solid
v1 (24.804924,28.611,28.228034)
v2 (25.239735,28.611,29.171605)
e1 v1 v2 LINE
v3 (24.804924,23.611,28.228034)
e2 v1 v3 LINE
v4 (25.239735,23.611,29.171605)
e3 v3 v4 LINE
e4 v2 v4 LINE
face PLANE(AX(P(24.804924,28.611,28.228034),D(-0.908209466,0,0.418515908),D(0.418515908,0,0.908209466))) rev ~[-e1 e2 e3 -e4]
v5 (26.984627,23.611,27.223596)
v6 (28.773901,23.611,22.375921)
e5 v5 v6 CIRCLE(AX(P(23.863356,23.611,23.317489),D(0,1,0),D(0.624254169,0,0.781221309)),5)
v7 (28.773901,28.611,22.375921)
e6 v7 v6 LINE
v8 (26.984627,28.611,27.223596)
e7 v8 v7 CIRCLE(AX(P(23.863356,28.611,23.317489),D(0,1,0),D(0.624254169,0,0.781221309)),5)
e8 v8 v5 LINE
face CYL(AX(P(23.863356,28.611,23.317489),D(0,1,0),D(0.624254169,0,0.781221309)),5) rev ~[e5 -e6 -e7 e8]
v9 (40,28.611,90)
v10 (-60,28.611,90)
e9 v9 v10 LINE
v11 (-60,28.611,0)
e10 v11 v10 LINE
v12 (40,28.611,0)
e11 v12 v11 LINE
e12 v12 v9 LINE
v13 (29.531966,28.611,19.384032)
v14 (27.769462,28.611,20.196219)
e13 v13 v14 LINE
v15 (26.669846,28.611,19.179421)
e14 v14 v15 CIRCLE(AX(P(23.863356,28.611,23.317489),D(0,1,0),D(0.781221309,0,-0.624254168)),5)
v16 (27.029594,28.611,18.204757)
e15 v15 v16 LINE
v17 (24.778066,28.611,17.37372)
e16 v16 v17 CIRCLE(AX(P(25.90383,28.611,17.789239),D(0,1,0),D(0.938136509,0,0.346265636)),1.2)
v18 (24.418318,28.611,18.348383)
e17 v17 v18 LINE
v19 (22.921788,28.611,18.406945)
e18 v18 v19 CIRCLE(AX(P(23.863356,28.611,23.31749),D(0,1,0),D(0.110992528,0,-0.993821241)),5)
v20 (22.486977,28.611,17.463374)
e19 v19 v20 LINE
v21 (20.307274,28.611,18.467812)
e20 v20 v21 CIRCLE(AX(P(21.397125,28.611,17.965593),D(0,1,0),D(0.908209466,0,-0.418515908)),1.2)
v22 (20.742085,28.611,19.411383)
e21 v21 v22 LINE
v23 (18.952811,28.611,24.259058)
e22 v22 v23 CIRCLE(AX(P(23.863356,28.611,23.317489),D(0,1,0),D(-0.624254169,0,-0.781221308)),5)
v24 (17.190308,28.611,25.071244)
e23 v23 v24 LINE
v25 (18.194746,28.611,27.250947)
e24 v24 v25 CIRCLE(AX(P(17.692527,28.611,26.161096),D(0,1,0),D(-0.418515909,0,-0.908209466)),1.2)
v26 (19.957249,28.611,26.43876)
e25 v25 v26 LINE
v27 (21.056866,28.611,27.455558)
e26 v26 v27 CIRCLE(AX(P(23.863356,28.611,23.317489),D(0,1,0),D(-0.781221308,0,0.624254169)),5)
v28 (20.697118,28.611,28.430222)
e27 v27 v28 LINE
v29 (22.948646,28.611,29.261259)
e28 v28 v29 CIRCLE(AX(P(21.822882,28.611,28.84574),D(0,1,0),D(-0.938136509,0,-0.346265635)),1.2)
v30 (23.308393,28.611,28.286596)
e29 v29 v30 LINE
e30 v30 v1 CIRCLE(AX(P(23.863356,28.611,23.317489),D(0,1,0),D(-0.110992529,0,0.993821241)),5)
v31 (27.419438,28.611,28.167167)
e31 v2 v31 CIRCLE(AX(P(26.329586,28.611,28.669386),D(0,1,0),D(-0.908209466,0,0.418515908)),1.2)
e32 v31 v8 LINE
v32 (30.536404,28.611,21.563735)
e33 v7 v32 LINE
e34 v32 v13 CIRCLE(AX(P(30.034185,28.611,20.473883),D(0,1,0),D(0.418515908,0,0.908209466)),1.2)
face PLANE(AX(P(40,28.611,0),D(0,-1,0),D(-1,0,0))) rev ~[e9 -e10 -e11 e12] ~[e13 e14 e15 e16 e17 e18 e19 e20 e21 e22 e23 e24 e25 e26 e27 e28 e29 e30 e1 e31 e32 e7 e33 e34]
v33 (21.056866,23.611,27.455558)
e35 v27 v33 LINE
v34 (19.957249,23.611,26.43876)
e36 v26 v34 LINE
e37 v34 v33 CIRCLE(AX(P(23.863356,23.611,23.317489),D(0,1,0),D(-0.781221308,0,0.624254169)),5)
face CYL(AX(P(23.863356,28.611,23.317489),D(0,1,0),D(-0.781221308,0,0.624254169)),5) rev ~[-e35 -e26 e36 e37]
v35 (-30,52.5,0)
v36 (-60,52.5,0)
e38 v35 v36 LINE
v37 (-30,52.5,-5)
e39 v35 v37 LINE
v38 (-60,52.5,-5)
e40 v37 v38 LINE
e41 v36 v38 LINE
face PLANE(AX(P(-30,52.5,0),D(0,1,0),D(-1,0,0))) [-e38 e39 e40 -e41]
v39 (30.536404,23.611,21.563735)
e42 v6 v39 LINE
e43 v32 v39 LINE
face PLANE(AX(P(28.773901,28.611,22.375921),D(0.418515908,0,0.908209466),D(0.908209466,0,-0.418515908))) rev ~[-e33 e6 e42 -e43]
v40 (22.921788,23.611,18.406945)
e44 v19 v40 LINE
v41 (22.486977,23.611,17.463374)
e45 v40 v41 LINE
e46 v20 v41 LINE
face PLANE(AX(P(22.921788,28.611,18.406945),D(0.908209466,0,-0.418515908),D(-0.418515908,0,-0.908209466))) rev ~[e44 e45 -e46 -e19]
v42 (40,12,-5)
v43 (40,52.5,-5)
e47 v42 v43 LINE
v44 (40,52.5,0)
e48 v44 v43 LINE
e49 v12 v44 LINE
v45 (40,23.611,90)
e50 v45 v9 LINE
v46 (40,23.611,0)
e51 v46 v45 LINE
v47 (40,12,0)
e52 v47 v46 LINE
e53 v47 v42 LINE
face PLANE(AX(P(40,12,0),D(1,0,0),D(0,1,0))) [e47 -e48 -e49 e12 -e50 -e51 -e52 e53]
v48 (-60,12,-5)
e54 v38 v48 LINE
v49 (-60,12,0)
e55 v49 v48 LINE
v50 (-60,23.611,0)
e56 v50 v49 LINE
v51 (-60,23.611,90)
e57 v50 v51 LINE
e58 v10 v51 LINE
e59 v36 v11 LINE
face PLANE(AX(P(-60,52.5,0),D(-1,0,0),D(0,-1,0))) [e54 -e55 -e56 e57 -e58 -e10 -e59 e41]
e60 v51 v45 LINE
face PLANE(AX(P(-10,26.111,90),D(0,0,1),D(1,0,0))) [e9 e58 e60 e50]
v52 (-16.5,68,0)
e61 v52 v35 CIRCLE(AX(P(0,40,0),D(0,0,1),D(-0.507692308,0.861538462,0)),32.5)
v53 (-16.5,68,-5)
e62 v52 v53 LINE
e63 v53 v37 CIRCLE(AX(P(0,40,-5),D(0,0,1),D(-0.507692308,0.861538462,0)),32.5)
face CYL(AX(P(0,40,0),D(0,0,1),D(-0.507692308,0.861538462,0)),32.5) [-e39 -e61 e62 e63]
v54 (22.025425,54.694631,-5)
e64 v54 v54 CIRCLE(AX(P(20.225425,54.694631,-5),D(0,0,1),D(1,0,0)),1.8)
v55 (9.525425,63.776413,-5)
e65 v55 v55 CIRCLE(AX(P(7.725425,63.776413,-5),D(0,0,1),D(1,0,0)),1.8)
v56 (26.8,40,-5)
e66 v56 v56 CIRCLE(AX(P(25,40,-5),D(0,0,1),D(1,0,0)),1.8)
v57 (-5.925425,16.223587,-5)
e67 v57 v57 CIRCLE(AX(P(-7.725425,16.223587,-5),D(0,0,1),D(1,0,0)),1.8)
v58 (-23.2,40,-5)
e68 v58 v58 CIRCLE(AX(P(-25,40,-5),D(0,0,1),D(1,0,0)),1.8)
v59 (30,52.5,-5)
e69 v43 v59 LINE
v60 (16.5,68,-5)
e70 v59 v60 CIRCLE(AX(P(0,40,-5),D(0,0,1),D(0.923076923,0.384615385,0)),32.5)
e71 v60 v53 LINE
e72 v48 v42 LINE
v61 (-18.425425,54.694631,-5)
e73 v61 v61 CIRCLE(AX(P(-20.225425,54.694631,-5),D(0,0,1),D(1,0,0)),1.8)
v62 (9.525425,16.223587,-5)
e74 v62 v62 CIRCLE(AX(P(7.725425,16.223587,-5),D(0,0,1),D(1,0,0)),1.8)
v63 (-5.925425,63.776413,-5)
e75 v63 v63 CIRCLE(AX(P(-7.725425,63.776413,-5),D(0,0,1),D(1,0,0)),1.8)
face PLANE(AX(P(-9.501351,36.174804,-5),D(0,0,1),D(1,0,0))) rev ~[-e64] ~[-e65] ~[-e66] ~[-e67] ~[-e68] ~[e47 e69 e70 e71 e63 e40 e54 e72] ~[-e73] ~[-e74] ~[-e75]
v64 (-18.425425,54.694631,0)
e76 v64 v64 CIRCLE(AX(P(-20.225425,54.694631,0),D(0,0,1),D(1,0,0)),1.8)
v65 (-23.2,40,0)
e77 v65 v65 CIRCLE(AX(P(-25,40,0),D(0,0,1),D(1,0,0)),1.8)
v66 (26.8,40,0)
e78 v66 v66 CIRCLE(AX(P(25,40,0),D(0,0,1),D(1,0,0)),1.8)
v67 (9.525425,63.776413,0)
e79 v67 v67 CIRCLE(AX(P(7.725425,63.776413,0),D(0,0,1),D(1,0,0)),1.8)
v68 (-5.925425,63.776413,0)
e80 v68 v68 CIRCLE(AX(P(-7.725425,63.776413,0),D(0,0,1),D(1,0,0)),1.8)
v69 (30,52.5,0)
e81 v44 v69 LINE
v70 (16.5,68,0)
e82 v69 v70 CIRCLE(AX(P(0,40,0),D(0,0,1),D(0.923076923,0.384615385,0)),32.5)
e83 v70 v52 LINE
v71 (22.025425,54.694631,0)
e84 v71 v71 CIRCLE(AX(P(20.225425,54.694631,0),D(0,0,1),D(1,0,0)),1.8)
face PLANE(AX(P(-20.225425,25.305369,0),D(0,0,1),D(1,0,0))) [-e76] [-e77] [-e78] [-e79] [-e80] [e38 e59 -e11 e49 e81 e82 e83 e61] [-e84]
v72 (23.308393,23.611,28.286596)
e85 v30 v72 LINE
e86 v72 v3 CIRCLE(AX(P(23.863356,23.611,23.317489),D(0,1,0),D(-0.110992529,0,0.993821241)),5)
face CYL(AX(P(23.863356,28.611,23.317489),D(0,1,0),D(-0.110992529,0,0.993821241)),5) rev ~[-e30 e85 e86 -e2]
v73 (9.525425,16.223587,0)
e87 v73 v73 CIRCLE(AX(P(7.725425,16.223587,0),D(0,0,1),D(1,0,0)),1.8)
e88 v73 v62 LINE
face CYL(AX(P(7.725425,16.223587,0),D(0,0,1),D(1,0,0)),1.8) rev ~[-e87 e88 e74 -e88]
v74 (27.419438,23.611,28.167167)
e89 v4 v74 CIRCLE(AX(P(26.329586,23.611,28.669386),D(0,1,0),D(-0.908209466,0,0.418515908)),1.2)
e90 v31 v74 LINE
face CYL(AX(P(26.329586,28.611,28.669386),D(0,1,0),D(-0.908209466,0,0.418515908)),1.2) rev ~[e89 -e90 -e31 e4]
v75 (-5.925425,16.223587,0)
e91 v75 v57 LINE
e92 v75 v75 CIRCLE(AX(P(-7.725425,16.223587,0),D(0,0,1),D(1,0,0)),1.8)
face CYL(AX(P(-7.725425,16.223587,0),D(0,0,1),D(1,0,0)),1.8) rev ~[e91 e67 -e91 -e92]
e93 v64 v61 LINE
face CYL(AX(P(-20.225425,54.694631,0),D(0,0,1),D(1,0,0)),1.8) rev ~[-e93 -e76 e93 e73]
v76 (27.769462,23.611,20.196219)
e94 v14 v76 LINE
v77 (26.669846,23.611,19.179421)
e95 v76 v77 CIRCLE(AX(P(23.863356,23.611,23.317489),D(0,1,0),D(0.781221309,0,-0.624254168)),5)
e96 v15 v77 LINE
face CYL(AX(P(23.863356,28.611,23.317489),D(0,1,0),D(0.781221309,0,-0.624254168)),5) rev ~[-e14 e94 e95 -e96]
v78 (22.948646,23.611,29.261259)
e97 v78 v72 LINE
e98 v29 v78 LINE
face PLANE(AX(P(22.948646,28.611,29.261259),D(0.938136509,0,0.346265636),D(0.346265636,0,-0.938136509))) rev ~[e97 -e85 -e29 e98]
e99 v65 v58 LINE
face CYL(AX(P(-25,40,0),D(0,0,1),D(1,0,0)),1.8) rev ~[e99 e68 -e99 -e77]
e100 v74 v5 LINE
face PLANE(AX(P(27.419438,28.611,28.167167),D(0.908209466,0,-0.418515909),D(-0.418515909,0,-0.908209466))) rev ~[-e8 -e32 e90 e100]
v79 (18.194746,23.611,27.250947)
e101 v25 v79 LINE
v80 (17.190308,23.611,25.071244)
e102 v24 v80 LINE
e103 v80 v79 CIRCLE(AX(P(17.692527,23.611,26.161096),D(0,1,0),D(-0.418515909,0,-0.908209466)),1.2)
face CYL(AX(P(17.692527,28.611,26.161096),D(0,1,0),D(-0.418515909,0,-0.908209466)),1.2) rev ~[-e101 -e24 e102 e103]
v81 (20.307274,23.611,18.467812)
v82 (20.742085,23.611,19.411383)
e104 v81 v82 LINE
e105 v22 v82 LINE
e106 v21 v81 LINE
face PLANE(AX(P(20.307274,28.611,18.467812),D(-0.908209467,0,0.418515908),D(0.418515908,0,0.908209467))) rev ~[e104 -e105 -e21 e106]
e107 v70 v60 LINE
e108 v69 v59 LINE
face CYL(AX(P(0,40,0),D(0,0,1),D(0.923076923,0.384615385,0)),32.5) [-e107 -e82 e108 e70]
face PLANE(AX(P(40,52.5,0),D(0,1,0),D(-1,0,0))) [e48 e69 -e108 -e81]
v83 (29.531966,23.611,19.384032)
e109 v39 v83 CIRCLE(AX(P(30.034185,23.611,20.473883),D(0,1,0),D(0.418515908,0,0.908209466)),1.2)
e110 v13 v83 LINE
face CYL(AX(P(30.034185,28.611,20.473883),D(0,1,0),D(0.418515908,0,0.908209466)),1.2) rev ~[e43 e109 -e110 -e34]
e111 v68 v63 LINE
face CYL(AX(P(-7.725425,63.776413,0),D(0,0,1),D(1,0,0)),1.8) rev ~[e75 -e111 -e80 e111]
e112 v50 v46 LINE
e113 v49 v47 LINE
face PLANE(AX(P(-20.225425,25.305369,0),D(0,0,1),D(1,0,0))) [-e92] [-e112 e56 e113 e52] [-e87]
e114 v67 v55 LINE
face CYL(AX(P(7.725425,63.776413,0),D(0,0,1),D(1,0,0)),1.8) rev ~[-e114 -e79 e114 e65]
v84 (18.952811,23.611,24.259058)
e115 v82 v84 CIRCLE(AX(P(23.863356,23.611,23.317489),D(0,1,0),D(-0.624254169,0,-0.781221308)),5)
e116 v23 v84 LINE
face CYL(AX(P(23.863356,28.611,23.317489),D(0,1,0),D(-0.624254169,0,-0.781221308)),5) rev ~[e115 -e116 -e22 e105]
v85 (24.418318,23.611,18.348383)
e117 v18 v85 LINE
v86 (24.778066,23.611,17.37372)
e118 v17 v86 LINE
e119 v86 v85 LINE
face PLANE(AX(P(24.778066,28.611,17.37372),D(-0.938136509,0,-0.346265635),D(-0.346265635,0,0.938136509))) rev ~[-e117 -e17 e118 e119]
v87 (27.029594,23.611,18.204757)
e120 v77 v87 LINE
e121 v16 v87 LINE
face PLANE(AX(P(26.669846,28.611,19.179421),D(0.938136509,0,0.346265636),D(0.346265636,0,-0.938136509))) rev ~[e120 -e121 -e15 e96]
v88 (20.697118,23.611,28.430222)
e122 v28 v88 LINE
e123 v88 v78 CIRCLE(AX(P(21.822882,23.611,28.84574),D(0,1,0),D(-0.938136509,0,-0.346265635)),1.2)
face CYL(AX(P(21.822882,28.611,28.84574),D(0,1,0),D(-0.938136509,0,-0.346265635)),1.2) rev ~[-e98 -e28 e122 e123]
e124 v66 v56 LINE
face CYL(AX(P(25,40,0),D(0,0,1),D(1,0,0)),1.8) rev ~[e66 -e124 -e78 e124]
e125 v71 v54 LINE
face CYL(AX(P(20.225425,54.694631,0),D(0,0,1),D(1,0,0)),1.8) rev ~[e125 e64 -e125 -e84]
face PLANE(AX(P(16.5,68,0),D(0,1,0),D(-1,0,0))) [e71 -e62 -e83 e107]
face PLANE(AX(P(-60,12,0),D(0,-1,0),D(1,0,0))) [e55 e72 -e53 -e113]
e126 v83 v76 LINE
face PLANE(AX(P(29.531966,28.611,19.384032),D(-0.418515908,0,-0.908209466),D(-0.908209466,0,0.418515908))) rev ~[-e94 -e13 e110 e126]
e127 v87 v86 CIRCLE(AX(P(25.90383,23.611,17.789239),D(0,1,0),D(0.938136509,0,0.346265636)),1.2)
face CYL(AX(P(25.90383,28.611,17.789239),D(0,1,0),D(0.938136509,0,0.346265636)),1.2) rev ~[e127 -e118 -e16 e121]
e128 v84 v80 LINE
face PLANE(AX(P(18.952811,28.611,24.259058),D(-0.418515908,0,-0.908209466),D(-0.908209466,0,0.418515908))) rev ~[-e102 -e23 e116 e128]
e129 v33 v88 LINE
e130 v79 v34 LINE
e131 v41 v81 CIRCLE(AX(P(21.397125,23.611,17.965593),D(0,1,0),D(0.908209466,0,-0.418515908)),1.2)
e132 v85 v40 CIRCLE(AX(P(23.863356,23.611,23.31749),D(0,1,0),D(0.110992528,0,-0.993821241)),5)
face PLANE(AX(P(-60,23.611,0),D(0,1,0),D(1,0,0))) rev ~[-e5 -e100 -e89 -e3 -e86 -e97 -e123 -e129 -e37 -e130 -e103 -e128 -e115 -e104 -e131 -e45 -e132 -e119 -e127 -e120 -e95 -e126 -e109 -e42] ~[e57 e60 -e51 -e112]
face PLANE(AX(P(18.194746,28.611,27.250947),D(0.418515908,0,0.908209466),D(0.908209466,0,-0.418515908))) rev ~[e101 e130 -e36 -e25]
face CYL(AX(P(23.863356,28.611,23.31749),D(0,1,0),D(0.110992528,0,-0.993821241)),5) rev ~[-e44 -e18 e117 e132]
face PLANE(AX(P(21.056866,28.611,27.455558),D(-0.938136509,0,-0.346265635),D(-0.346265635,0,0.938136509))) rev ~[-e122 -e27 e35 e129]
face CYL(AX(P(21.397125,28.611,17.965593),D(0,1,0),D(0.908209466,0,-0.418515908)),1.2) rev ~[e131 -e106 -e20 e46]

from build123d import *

# Parameters (mm, degrees)
SKETCH2_R           = 1.8
BOSS_EXTRUDE1_DEPTH = 5
SKETCH3_R           = 1.8
BOSS_EXTRUDE2_DEPTH = 5
BOSS_EXTRUDE3_DEPTH = 90
SKETCH5_R           = 1
CUT_EXTRUDE3_DEPTH  = 90
CUT_EXTRUDE4_DEPTH  = 90


with BuildPart() as part:
    # Sketch2 → Boss-Extrude1 (new body)
    with BuildSketch(Plane.XY):
        with BuildLine():
            ThreePointArc((30, 52.5), (24.507651866, 61.345374206), (16.5, 68))
            Line((16.5, 68), (-16.5, 68))
            ThreePointArc((-16.5, 68), (-24.507651866, 61.345374206), (-30, 52.5))
            Line((-30, 52.5), (-60, 52.5))
            Line((-60, 52.5), (-60, 12))
            Line((-60, 12), (40, 12))
            Line((40, 12), (40, 52.5))
            Line((40, 52.5), (30, 52.5))
        make_face()
        with Locations((-20.225424859, 25.305368693)):
            Circle(SKETCH2_R, mode=Mode.SUBTRACT)
        with Locations((-25, 40)):
            Circle(SKETCH2_R, mode=Mode.SUBTRACT)
        with Locations((-7.725424859, 16.223587093)):
            Circle(SKETCH2_R, mode=Mode.SUBTRACT)
        with Locations((7.725424859, 16.223587093)):
            Circle(SKETCH2_R, mode=Mode.SUBTRACT)
        with Locations((20.225424859, 25.305368693)):
            Circle(SKETCH2_R, mode=Mode.SUBTRACT)
        with Locations((25, 40)):
            Circle(SKETCH2_R, mode=Mode.SUBTRACT)
        with Locations((-20.225424859, 54.694631307)):
            Circle(SKETCH2_R, mode=Mode.SUBTRACT)
        with Locations((-7.725424859, 63.776412907)):
            Circle(SKETCH2_R, mode=Mode.SUBTRACT)
        with Locations((7.725424859, 63.776412907)):
            Circle(SKETCH2_R, mode=Mode.SUBTRACT)
        with Locations((20.225424859, 54.694631307)):
            Circle(SKETCH2_R, mode=Mode.SUBTRACT)
    extrude(amount=-BOSS_EXTRUDE1_DEPTH)

    # Sketch3 → Boss-Extrude2 (add)
    with BuildSketch(Plane.XY):
        with Locations((-20.225424859, 25.305368693)):
            Circle(SKETCH3_R)
        with Locations((20.225424859, 25.305368693)):
            Circle(SKETCH3_R)
    extrude(amount=-BOSS_EXTRUDE2_DEPTH)

    # Sketch4 → Boss-Extrude3 (add)
    with BuildSketch(Plane.XY):
        Polygon((15.062255845, 23.611), (32.664455845, 23.611), (40, 23.611), (40, 28.611), (-60, 28.611), (-60, 23.611), align=None)
    extrude(amount=BOSS_EXTRUDE3_DEPTH)

    # Sketch5 → Cut-Extrude3 (cut)
    with BuildSketch(Plane(origin=(0, 28.611, 0), x_dir=(1, 0, 0), z_dir=(0, 1, 0))):
        with BuildLine():
            ThreePointArc((20.99034902, -19.472254538), (21.854479486, -18.958084045), (22.806767952, -18.635222722))
            Line((22.806767952, -18.635222722), (22.305334768, -17.547076832))
            ThreePointArc((22.305334768, -17.547076832), (22.37390815, -17.751360934), (22.397125301, -17.96559274))
            ThreePointArc((22.397125301, -17.96559274), (21.611357108, -18.942375589), (20.488915835, -18.384108649))
            Line((20.488915835, -18.384108649), (20.99034902, -19.472254538))
        make_face()
        with BuildLine():
            ThreePointArc((24.550824941, -18.56697517), (25.525430896, -18.81443424), (26.42709796, -19.259506441))
            Line((26.42709796, -19.259506441), (26.841966492, -18.135504299))
            ThreePointArc((26.841966492, -18.135504299), (25.557564347, -18.727375172), (24.965693474, -17.442973027))
            Line((24.965693474, -17.442973027), (24.550824941, -18.56697517))
        make_face()
        with BuildLine():
            ThreePointArc((27.70859079, -20.444482658), (28.222761283, -21.308613124), (28.545622606, -22.260901591))
            Line((28.545622606, -22.260901591), (30.452700972, -21.382092612))
            ThreePointArc((30.452700972, -21.382092612), (29.125975597, -20.892399054), (29.615669155, -19.565673679))
            Line((29.615669155, -19.565673679), (27.70859079, -20.444482658))
        make_face()
        with BuildLine():
            ThreePointArc((25.421376922, -29.087902134), (25.91107048, -27.76117676), (27.237795855, -28.250870318))
            Line((27.237795855, -28.250870318), (26.73636267, -27.162724428))
            ThreePointArc((26.73636267, -27.162724428), (25.872232204, -27.676894921), (24.919943737, -27.999756245))
            Line((24.919943737, -27.999756245), (25.421376922, -29.087902134))
        make_face()
        with BuildLine():
            Line((22.761018216, -29.192005939), (23.175886748, -28.068003797))
            ThreePointArc((23.175886748, -28.068003797), (22.201280794, -27.820544727), (21.29961373, -27.375472525))
            Line((21.29961373, -27.375472525), (20.884745198, -28.499474668))
            ThreePointArc((20.884745198, -28.499474668), (21.998755939, -27.861327659), (22.822881707, -28.845740304))
            ThreePointArc((22.822881707, -28.845740304), (22.807294351, -29.021614536), (22.761018216, -29.192005939))
        make_face()
        with BuildLine():
            Line((18.111042534, -27.069305287), (20.0181209, -26.190496308))
            ThreePointArc((20.0181209, -26.190496308), (19.503950407, -25.326365842), (19.181089083, -24.374077376))
            Line((19.181089083, -24.374077376), (17.274010718, -25.252886355))
            ThreePointArc((17.274010718, -25.252886355), (18.231731639, -25.318921282), (18.692526626, -26.161095821))
            ThreePointArc((18.692526626, -26.161095821), (18.534701165, -26.700300834), (18.111042534, -27.069305287))
        make_face()
        with Locations((17.692526626, -26.161095821)):
            Circle(SKETCH5_R)
        with Locations((21.822881707, -28.845740304)):
            Circle(SKETCH5_R)
        with Locations((26.329586388, -28.669386226)):
            Circle(SKETCH5_R)
        with Locations((30.034185063, -20.473883145)):
            Circle(SKETCH5_R)
        with Locations((25.903829983, -17.789238663)):
            Circle(SKETCH5_R)
        with Locations((21.397125301, -17.96559274)):
            Circle(SKETCH5_R)
        with BuildLine():
            Line((22.806767952, -18.635222722), (23.76117853, -20.706361964))
            Line((23.76117853, -20.706361964), (24.550824941, -18.56697517))
            ThreePointArc((24.550824941, -18.56697517), (23.675668329, -18.521160325), (22.806767952, -18.635222722))
        make_face()
        with BuildLine():
            Line((23.068647258, -22.582634982), (23.76117853, -20.706361964))
            Line((23.76117853, -20.706361964), (22.806767952, -18.635222722))
            ThreePointArc((22.806767952, -18.635222722), (21.854479486, -18.958084045), (20.99034902, -19.472254538))
            Line((20.99034902, -19.472254538), (22.53663047, -22.827795925))
            Line((22.53663047, -22.827795925), (23.068647258, -22.582634982))
        make_face()
        with BuildLine():
            Line((19.181089083, -24.374077376), (22.53663047, -22.827795925))
            Line((22.53663047, -22.827795925), (20.99034902, -19.472254538))
            ThreePointArc((20.99034902, -19.472254538), (19.360300602, -21.655414432), (19.181089083, -24.374077376))
        make_face()
        with BuildLine():
            Line((22.089260142, -25.236085731), (22.781791413, -23.359812713))
            Line((22.781791413, -23.359812713), (22.53663047, -22.827795925))
            Line((22.53663047, -22.827795925), (19.181089083, -24.374077376))
            ThreePointArc((19.181089083, -24.374077376), (19.503950407, -25.326365842), (20.0181209, -26.190496308))
            Line((20.0181209, -26.190496308), (22.089260142, -25.236085731))
        make_face()
        with BuildLine():
            ThreePointArc((20.0181209, -26.190496308), (20.604554087, -26.841721471), (21.29961373, -27.375472525))
            Line((21.29961373, -27.375472525), (22.089260142, -25.236085731))
            Line((22.089260142, -25.236085731), (20.0181209, -26.190496308))
        make_face()
        with BuildLine():
            Line((23.175886748, -28.068003797), (23.96553316, -25.928617002))
            Line((23.96553316, -25.928617002), (23.373662287, -24.644214858))
            Line((23.373662287, -24.644214858), (22.089260142, -25.236085731))
            Line((22.089260142, -25.236085731), (21.29961373, -27.375472525))
            ThreePointArc((21.29961373, -27.375472525), (22.201280794, -27.820544727), (23.175886748, -28.068003797))
        make_face()
        with BuildLine():
            ThreePointArc((23.175886748, -28.068003797), (24.05104336, -28.113818642), (24.919943737, -27.999756245))
            Line((24.919943737, -27.999756245), (23.96553316, -25.928617002))
            Line((23.96553316, -25.928617002), (23.175886748, -28.068003797))
        make_face()
        with BuildLine():
            ThreePointArc((24.919943737, -27.999756245), (25.872232204, -27.676894921), (26.73636267, -27.162724428))
            Line((26.73636267, -27.162724428), (25.190081219, -23.807183041))
            Line((25.190081219, -23.807183041), (24.658064431, -24.052343984))
            Line((24.658064431, -24.052343984), (23.96553316, -25.928617002))
            Line((23.96553316, -25.928617002), (24.919943737, -27.999756245))
        make_face()
        with BuildLine():
            Line((25.190081219, -23.807183041), (26.73636267, -27.162724428))
            ThreePointArc((26.73636267, -27.162724428), (28.154651265, -25.468020492), (28.663355845, -23.317489483))
            ThreePointArc((28.663355845, -23.317489483), (28.633831736, -22.785925966), (28.545622606, -22.260901591))
            Line((28.545622606, -22.260901591), (25.190081219, -23.807183041))
        make_face()
        with BuildLine():
            Line((24.944920276, -23.275166254), (25.190081219, -23.807183041))
            Line((25.190081219, -23.807183041), (28.545622606, -22.260901591))
            ThreePointArc((28.545622606, -22.260901591), (28.222761283, -21.308613124), (27.70859079, -20.444482658))
            Line((27.70859079, -20.444482658), (25.637451548, -21.398893235))
            Line((25.637451548, -21.398893235), (24.944920276, -23.275166254))
        make_face()
        with BuildLine():
            Line((26.42709796, -19.259506441), (25.637451548, -21.398893235))
            Line((25.637451548, -21.398893235), (27.70859079, -20.444482658))
            ThreePointArc((27.70859079, -20.444482658), (27.122157603, -19.793257496), (26.42709796, -19.259506441))
        make_face()
        Polygon((24.353049403, -21.990764109), (24.944920276, -23.275166254), (25.637451548, -21.398893235), align=None)
        with BuildLine():
            Line((23.76117853, -20.706361964), (24.353049403, -21.990764109))
            Line((24.353049403, -21.990764109), (25.637451548, -21.398893235))
            Line((25.637451548, -21.398893235), (26.42709796, -19.259506441))
            ThreePointArc((26.42709796, -19.259506441), (25.525430896, -18.81443424), (24.550824941, -18.56697517))
            Line((24.550824941, -18.56697517), (23.76117853, -20.706361964))
        make_face()
        Polygon((23.068647258, -22.582634982), (24.353049403, -21.990764109), (23.76117853, -20.706361964), align=None)
        Polygon((22.781791413, -23.359812713), (23.068647258, -22.582634982), (22.53663047, -22.827795925), align=None)
        Polygon((22.089260142, -25.236085731), (23.373662287, -24.644214858), (22.781791413, -23.359812713), align=None)
        Polygon((23.96553316, -25.928617002), (24.658064431, -24.052343984), (23.373662287, -24.644214858), align=None)
        Polygon((24.658064431, -24.052343984), (25.190081219, -23.807183041), (24.944920276, -23.275166254), align=None)
        Polygon((24.658064431, -24.052343984), (24.944920276, -23.275166254), (24.353049403, -21.990764109), (23.068647258, -22.582634982), (22.781791413, -23.359812713), (23.373662287, -24.644214858), align=None)
    extrude(amount=-CUT_EXTRUDE3_DEPTH, mode=Mode.SUBTRACT)

    # Sketch6 → Cut-Extrude4 (cut)
    with BuildSketch(Plane(origin=(0, 28.611, 0), x_dir=(1, 0, 0), z_dir=(0, 1, 0))):
        with BuildLine():
            ThreePointArc((27.029593793, -18.204757426), (26.319348745, -16.663474852), (24.778066172, -17.3737199))
            Line((24.778066172, -17.3737199), (24.41831849, -18.34838328))
            ThreePointArc((24.41831849, -18.34838328), (23.667848016, -18.321313277), (22.92178772, -18.406944761))
            Line((22.92178772, -18.406944761), (22.486976661, -17.463373651))
            ThreePointArc((22.486976661, -17.463373651), (20.894906212, -16.875741381), (20.307273942, -18.46781183))
            Line((20.307273942, -18.46781183), (20.742085001, -19.411382941))
            ThreePointArc((20.742085001, -19.411382941), (19.1726733, -21.586161305), (18.952811123, -24.259057608))
            Line((18.952811123, -24.259057608), (17.190307536, -25.071244462))
            ThreePointArc((17.190307536, -25.071244462), (16.602675267, -26.663314911), (18.194745716, -27.250947181))
            Line((18.194745716, -27.250947181), (19.957249302, -26.438760327))
            ThreePointArc((19.957249302, -26.438760327), (20.46877068, -26.98856447), (21.056865578, -27.455558161))
            Line((21.056865578, -27.455558161), (20.697117896, -28.430221541))
            ThreePointArc((20.697117896, -28.430221541), (21.407362944, -29.971504114), (22.948645518, -29.261259066))
            Line((22.948645518, -29.261259066), (23.3083932, -28.286595687))
            ThreePointArc((23.3083932, -28.286595687), (24.058863673, -28.31366569), (24.804923969, -28.228034205))
            Line((24.804923969, -28.228034205), (25.239735029, -29.171605316))
            ThreePointArc((25.239735029, -29.171605316), (26.831805478, -29.759237586), (27.419437748, -28.167167136))
            Line((27.419437748, -28.167167136), (26.984626688, -27.223596026))
            ThreePointArc((26.984626688, -27.223596026), (28.55403839, -25.048817662), (28.773900567, -22.375921359))
            Line((28.773900567, -22.375921359), (30.536404153, -21.563734505))
            ThreePointArc((30.536404153, -21.563734505), (31.124036423, -19.971664056), (29.531965974, -19.384031786))
            Line((29.531965974, -19.384031786), (27.769462387, -20.19621864))
            ThreePointArc((27.769462387, -20.19621864), (27.257941009, -19.646414496), (26.669846111, -19.179420805))
            Line((26.669846111, -19.179420805), (27.029593793, -18.204757426))
        make_face()
        with BuildLine():
            ThreePointArc((19.181089083, -24.374077376), (19.360300602, -21.655414432), (20.99034902, -19.472254538))
            Line((20.99034902, -19.472254538), (20.488915835, -18.384108649))
            ThreePointArc((20.488915835, -18.384108649), (20.978609393, -17.057383274), (22.305334768, -17.547076832))
            Line((22.305334768, -17.547076832), (22.806767952, -18.635222722))
            ThreePointArc((22.806767952, -18.635222722), (23.675668329, -18.521160325), (24.550824941, -18.56697517))
            Line((24.550824941, -18.56697517), (24.965693474, -17.442973027))
            ThreePointArc((24.965693474, -17.442973027), (26.250095618, -16.851102154), (26.841966492, -18.135504299))
            Line((26.841966492, -18.135504299), (26.42709796, -19.259506441))
            ThreePointArc((26.42709796, -19.259506441), (27.122157603, -19.793257496), (27.70859079, -20.444482658))
            Line((27.70859079, -20.444482658), (29.615669155, -19.565673679))
            ThreePointArc((29.615669155, -19.565673679), (30.94239453, -20.055367237), (30.452700972, -21.382092612))
            Line((30.452700972, -21.382092612), (28.545622606, -22.260901591))
            ThreePointArc((28.545622606, -22.260901591), (28.366411088, -24.979564534), (26.73636267, -27.162724428))
            Line((26.73636267, -27.162724428), (27.237795855, -28.250870318))
            ThreePointArc((27.237795855, -28.250870318), (26.748102297, -29.577595692), (25.421376922, -29.087902134))
            Line((25.421376922, -29.087902134), (24.919943737, -27.999756245))
            ThreePointArc((24.919943737, -27.999756245), (24.05104336, -28.113818642), (23.175886748, -28.068003797))
            Line((23.175886748, -28.068003797), (22.761018216, -29.192005939))
            ThreePointArc((22.761018216, -29.192005939), (21.476616071, -29.783876813), (20.884745198, -28.499474668))
            Line((20.884745198, -28.499474668), (21.29961373, -27.375472525))
            ThreePointArc((21.29961373, -27.375472525), (20.604554087, -26.841721471), (20.0181209, -26.190496308))
            Line((20.0181209, -26.190496308), (18.111042534, -27.069305287))
            ThreePointArc((18.111042534, -27.069305287), (16.78431716, -26.579611729), (17.274010718, -25.252886355))
            Line((17.274010718, -25.252886355), (19.181089083, -24.374077376))
        make_face(mode=Mode.SUBTRACT)
    extrude(amount=-CUT_EXTRUDE4_DEPTH, mode=Mode.SUBTRACT)


solid = part.part
